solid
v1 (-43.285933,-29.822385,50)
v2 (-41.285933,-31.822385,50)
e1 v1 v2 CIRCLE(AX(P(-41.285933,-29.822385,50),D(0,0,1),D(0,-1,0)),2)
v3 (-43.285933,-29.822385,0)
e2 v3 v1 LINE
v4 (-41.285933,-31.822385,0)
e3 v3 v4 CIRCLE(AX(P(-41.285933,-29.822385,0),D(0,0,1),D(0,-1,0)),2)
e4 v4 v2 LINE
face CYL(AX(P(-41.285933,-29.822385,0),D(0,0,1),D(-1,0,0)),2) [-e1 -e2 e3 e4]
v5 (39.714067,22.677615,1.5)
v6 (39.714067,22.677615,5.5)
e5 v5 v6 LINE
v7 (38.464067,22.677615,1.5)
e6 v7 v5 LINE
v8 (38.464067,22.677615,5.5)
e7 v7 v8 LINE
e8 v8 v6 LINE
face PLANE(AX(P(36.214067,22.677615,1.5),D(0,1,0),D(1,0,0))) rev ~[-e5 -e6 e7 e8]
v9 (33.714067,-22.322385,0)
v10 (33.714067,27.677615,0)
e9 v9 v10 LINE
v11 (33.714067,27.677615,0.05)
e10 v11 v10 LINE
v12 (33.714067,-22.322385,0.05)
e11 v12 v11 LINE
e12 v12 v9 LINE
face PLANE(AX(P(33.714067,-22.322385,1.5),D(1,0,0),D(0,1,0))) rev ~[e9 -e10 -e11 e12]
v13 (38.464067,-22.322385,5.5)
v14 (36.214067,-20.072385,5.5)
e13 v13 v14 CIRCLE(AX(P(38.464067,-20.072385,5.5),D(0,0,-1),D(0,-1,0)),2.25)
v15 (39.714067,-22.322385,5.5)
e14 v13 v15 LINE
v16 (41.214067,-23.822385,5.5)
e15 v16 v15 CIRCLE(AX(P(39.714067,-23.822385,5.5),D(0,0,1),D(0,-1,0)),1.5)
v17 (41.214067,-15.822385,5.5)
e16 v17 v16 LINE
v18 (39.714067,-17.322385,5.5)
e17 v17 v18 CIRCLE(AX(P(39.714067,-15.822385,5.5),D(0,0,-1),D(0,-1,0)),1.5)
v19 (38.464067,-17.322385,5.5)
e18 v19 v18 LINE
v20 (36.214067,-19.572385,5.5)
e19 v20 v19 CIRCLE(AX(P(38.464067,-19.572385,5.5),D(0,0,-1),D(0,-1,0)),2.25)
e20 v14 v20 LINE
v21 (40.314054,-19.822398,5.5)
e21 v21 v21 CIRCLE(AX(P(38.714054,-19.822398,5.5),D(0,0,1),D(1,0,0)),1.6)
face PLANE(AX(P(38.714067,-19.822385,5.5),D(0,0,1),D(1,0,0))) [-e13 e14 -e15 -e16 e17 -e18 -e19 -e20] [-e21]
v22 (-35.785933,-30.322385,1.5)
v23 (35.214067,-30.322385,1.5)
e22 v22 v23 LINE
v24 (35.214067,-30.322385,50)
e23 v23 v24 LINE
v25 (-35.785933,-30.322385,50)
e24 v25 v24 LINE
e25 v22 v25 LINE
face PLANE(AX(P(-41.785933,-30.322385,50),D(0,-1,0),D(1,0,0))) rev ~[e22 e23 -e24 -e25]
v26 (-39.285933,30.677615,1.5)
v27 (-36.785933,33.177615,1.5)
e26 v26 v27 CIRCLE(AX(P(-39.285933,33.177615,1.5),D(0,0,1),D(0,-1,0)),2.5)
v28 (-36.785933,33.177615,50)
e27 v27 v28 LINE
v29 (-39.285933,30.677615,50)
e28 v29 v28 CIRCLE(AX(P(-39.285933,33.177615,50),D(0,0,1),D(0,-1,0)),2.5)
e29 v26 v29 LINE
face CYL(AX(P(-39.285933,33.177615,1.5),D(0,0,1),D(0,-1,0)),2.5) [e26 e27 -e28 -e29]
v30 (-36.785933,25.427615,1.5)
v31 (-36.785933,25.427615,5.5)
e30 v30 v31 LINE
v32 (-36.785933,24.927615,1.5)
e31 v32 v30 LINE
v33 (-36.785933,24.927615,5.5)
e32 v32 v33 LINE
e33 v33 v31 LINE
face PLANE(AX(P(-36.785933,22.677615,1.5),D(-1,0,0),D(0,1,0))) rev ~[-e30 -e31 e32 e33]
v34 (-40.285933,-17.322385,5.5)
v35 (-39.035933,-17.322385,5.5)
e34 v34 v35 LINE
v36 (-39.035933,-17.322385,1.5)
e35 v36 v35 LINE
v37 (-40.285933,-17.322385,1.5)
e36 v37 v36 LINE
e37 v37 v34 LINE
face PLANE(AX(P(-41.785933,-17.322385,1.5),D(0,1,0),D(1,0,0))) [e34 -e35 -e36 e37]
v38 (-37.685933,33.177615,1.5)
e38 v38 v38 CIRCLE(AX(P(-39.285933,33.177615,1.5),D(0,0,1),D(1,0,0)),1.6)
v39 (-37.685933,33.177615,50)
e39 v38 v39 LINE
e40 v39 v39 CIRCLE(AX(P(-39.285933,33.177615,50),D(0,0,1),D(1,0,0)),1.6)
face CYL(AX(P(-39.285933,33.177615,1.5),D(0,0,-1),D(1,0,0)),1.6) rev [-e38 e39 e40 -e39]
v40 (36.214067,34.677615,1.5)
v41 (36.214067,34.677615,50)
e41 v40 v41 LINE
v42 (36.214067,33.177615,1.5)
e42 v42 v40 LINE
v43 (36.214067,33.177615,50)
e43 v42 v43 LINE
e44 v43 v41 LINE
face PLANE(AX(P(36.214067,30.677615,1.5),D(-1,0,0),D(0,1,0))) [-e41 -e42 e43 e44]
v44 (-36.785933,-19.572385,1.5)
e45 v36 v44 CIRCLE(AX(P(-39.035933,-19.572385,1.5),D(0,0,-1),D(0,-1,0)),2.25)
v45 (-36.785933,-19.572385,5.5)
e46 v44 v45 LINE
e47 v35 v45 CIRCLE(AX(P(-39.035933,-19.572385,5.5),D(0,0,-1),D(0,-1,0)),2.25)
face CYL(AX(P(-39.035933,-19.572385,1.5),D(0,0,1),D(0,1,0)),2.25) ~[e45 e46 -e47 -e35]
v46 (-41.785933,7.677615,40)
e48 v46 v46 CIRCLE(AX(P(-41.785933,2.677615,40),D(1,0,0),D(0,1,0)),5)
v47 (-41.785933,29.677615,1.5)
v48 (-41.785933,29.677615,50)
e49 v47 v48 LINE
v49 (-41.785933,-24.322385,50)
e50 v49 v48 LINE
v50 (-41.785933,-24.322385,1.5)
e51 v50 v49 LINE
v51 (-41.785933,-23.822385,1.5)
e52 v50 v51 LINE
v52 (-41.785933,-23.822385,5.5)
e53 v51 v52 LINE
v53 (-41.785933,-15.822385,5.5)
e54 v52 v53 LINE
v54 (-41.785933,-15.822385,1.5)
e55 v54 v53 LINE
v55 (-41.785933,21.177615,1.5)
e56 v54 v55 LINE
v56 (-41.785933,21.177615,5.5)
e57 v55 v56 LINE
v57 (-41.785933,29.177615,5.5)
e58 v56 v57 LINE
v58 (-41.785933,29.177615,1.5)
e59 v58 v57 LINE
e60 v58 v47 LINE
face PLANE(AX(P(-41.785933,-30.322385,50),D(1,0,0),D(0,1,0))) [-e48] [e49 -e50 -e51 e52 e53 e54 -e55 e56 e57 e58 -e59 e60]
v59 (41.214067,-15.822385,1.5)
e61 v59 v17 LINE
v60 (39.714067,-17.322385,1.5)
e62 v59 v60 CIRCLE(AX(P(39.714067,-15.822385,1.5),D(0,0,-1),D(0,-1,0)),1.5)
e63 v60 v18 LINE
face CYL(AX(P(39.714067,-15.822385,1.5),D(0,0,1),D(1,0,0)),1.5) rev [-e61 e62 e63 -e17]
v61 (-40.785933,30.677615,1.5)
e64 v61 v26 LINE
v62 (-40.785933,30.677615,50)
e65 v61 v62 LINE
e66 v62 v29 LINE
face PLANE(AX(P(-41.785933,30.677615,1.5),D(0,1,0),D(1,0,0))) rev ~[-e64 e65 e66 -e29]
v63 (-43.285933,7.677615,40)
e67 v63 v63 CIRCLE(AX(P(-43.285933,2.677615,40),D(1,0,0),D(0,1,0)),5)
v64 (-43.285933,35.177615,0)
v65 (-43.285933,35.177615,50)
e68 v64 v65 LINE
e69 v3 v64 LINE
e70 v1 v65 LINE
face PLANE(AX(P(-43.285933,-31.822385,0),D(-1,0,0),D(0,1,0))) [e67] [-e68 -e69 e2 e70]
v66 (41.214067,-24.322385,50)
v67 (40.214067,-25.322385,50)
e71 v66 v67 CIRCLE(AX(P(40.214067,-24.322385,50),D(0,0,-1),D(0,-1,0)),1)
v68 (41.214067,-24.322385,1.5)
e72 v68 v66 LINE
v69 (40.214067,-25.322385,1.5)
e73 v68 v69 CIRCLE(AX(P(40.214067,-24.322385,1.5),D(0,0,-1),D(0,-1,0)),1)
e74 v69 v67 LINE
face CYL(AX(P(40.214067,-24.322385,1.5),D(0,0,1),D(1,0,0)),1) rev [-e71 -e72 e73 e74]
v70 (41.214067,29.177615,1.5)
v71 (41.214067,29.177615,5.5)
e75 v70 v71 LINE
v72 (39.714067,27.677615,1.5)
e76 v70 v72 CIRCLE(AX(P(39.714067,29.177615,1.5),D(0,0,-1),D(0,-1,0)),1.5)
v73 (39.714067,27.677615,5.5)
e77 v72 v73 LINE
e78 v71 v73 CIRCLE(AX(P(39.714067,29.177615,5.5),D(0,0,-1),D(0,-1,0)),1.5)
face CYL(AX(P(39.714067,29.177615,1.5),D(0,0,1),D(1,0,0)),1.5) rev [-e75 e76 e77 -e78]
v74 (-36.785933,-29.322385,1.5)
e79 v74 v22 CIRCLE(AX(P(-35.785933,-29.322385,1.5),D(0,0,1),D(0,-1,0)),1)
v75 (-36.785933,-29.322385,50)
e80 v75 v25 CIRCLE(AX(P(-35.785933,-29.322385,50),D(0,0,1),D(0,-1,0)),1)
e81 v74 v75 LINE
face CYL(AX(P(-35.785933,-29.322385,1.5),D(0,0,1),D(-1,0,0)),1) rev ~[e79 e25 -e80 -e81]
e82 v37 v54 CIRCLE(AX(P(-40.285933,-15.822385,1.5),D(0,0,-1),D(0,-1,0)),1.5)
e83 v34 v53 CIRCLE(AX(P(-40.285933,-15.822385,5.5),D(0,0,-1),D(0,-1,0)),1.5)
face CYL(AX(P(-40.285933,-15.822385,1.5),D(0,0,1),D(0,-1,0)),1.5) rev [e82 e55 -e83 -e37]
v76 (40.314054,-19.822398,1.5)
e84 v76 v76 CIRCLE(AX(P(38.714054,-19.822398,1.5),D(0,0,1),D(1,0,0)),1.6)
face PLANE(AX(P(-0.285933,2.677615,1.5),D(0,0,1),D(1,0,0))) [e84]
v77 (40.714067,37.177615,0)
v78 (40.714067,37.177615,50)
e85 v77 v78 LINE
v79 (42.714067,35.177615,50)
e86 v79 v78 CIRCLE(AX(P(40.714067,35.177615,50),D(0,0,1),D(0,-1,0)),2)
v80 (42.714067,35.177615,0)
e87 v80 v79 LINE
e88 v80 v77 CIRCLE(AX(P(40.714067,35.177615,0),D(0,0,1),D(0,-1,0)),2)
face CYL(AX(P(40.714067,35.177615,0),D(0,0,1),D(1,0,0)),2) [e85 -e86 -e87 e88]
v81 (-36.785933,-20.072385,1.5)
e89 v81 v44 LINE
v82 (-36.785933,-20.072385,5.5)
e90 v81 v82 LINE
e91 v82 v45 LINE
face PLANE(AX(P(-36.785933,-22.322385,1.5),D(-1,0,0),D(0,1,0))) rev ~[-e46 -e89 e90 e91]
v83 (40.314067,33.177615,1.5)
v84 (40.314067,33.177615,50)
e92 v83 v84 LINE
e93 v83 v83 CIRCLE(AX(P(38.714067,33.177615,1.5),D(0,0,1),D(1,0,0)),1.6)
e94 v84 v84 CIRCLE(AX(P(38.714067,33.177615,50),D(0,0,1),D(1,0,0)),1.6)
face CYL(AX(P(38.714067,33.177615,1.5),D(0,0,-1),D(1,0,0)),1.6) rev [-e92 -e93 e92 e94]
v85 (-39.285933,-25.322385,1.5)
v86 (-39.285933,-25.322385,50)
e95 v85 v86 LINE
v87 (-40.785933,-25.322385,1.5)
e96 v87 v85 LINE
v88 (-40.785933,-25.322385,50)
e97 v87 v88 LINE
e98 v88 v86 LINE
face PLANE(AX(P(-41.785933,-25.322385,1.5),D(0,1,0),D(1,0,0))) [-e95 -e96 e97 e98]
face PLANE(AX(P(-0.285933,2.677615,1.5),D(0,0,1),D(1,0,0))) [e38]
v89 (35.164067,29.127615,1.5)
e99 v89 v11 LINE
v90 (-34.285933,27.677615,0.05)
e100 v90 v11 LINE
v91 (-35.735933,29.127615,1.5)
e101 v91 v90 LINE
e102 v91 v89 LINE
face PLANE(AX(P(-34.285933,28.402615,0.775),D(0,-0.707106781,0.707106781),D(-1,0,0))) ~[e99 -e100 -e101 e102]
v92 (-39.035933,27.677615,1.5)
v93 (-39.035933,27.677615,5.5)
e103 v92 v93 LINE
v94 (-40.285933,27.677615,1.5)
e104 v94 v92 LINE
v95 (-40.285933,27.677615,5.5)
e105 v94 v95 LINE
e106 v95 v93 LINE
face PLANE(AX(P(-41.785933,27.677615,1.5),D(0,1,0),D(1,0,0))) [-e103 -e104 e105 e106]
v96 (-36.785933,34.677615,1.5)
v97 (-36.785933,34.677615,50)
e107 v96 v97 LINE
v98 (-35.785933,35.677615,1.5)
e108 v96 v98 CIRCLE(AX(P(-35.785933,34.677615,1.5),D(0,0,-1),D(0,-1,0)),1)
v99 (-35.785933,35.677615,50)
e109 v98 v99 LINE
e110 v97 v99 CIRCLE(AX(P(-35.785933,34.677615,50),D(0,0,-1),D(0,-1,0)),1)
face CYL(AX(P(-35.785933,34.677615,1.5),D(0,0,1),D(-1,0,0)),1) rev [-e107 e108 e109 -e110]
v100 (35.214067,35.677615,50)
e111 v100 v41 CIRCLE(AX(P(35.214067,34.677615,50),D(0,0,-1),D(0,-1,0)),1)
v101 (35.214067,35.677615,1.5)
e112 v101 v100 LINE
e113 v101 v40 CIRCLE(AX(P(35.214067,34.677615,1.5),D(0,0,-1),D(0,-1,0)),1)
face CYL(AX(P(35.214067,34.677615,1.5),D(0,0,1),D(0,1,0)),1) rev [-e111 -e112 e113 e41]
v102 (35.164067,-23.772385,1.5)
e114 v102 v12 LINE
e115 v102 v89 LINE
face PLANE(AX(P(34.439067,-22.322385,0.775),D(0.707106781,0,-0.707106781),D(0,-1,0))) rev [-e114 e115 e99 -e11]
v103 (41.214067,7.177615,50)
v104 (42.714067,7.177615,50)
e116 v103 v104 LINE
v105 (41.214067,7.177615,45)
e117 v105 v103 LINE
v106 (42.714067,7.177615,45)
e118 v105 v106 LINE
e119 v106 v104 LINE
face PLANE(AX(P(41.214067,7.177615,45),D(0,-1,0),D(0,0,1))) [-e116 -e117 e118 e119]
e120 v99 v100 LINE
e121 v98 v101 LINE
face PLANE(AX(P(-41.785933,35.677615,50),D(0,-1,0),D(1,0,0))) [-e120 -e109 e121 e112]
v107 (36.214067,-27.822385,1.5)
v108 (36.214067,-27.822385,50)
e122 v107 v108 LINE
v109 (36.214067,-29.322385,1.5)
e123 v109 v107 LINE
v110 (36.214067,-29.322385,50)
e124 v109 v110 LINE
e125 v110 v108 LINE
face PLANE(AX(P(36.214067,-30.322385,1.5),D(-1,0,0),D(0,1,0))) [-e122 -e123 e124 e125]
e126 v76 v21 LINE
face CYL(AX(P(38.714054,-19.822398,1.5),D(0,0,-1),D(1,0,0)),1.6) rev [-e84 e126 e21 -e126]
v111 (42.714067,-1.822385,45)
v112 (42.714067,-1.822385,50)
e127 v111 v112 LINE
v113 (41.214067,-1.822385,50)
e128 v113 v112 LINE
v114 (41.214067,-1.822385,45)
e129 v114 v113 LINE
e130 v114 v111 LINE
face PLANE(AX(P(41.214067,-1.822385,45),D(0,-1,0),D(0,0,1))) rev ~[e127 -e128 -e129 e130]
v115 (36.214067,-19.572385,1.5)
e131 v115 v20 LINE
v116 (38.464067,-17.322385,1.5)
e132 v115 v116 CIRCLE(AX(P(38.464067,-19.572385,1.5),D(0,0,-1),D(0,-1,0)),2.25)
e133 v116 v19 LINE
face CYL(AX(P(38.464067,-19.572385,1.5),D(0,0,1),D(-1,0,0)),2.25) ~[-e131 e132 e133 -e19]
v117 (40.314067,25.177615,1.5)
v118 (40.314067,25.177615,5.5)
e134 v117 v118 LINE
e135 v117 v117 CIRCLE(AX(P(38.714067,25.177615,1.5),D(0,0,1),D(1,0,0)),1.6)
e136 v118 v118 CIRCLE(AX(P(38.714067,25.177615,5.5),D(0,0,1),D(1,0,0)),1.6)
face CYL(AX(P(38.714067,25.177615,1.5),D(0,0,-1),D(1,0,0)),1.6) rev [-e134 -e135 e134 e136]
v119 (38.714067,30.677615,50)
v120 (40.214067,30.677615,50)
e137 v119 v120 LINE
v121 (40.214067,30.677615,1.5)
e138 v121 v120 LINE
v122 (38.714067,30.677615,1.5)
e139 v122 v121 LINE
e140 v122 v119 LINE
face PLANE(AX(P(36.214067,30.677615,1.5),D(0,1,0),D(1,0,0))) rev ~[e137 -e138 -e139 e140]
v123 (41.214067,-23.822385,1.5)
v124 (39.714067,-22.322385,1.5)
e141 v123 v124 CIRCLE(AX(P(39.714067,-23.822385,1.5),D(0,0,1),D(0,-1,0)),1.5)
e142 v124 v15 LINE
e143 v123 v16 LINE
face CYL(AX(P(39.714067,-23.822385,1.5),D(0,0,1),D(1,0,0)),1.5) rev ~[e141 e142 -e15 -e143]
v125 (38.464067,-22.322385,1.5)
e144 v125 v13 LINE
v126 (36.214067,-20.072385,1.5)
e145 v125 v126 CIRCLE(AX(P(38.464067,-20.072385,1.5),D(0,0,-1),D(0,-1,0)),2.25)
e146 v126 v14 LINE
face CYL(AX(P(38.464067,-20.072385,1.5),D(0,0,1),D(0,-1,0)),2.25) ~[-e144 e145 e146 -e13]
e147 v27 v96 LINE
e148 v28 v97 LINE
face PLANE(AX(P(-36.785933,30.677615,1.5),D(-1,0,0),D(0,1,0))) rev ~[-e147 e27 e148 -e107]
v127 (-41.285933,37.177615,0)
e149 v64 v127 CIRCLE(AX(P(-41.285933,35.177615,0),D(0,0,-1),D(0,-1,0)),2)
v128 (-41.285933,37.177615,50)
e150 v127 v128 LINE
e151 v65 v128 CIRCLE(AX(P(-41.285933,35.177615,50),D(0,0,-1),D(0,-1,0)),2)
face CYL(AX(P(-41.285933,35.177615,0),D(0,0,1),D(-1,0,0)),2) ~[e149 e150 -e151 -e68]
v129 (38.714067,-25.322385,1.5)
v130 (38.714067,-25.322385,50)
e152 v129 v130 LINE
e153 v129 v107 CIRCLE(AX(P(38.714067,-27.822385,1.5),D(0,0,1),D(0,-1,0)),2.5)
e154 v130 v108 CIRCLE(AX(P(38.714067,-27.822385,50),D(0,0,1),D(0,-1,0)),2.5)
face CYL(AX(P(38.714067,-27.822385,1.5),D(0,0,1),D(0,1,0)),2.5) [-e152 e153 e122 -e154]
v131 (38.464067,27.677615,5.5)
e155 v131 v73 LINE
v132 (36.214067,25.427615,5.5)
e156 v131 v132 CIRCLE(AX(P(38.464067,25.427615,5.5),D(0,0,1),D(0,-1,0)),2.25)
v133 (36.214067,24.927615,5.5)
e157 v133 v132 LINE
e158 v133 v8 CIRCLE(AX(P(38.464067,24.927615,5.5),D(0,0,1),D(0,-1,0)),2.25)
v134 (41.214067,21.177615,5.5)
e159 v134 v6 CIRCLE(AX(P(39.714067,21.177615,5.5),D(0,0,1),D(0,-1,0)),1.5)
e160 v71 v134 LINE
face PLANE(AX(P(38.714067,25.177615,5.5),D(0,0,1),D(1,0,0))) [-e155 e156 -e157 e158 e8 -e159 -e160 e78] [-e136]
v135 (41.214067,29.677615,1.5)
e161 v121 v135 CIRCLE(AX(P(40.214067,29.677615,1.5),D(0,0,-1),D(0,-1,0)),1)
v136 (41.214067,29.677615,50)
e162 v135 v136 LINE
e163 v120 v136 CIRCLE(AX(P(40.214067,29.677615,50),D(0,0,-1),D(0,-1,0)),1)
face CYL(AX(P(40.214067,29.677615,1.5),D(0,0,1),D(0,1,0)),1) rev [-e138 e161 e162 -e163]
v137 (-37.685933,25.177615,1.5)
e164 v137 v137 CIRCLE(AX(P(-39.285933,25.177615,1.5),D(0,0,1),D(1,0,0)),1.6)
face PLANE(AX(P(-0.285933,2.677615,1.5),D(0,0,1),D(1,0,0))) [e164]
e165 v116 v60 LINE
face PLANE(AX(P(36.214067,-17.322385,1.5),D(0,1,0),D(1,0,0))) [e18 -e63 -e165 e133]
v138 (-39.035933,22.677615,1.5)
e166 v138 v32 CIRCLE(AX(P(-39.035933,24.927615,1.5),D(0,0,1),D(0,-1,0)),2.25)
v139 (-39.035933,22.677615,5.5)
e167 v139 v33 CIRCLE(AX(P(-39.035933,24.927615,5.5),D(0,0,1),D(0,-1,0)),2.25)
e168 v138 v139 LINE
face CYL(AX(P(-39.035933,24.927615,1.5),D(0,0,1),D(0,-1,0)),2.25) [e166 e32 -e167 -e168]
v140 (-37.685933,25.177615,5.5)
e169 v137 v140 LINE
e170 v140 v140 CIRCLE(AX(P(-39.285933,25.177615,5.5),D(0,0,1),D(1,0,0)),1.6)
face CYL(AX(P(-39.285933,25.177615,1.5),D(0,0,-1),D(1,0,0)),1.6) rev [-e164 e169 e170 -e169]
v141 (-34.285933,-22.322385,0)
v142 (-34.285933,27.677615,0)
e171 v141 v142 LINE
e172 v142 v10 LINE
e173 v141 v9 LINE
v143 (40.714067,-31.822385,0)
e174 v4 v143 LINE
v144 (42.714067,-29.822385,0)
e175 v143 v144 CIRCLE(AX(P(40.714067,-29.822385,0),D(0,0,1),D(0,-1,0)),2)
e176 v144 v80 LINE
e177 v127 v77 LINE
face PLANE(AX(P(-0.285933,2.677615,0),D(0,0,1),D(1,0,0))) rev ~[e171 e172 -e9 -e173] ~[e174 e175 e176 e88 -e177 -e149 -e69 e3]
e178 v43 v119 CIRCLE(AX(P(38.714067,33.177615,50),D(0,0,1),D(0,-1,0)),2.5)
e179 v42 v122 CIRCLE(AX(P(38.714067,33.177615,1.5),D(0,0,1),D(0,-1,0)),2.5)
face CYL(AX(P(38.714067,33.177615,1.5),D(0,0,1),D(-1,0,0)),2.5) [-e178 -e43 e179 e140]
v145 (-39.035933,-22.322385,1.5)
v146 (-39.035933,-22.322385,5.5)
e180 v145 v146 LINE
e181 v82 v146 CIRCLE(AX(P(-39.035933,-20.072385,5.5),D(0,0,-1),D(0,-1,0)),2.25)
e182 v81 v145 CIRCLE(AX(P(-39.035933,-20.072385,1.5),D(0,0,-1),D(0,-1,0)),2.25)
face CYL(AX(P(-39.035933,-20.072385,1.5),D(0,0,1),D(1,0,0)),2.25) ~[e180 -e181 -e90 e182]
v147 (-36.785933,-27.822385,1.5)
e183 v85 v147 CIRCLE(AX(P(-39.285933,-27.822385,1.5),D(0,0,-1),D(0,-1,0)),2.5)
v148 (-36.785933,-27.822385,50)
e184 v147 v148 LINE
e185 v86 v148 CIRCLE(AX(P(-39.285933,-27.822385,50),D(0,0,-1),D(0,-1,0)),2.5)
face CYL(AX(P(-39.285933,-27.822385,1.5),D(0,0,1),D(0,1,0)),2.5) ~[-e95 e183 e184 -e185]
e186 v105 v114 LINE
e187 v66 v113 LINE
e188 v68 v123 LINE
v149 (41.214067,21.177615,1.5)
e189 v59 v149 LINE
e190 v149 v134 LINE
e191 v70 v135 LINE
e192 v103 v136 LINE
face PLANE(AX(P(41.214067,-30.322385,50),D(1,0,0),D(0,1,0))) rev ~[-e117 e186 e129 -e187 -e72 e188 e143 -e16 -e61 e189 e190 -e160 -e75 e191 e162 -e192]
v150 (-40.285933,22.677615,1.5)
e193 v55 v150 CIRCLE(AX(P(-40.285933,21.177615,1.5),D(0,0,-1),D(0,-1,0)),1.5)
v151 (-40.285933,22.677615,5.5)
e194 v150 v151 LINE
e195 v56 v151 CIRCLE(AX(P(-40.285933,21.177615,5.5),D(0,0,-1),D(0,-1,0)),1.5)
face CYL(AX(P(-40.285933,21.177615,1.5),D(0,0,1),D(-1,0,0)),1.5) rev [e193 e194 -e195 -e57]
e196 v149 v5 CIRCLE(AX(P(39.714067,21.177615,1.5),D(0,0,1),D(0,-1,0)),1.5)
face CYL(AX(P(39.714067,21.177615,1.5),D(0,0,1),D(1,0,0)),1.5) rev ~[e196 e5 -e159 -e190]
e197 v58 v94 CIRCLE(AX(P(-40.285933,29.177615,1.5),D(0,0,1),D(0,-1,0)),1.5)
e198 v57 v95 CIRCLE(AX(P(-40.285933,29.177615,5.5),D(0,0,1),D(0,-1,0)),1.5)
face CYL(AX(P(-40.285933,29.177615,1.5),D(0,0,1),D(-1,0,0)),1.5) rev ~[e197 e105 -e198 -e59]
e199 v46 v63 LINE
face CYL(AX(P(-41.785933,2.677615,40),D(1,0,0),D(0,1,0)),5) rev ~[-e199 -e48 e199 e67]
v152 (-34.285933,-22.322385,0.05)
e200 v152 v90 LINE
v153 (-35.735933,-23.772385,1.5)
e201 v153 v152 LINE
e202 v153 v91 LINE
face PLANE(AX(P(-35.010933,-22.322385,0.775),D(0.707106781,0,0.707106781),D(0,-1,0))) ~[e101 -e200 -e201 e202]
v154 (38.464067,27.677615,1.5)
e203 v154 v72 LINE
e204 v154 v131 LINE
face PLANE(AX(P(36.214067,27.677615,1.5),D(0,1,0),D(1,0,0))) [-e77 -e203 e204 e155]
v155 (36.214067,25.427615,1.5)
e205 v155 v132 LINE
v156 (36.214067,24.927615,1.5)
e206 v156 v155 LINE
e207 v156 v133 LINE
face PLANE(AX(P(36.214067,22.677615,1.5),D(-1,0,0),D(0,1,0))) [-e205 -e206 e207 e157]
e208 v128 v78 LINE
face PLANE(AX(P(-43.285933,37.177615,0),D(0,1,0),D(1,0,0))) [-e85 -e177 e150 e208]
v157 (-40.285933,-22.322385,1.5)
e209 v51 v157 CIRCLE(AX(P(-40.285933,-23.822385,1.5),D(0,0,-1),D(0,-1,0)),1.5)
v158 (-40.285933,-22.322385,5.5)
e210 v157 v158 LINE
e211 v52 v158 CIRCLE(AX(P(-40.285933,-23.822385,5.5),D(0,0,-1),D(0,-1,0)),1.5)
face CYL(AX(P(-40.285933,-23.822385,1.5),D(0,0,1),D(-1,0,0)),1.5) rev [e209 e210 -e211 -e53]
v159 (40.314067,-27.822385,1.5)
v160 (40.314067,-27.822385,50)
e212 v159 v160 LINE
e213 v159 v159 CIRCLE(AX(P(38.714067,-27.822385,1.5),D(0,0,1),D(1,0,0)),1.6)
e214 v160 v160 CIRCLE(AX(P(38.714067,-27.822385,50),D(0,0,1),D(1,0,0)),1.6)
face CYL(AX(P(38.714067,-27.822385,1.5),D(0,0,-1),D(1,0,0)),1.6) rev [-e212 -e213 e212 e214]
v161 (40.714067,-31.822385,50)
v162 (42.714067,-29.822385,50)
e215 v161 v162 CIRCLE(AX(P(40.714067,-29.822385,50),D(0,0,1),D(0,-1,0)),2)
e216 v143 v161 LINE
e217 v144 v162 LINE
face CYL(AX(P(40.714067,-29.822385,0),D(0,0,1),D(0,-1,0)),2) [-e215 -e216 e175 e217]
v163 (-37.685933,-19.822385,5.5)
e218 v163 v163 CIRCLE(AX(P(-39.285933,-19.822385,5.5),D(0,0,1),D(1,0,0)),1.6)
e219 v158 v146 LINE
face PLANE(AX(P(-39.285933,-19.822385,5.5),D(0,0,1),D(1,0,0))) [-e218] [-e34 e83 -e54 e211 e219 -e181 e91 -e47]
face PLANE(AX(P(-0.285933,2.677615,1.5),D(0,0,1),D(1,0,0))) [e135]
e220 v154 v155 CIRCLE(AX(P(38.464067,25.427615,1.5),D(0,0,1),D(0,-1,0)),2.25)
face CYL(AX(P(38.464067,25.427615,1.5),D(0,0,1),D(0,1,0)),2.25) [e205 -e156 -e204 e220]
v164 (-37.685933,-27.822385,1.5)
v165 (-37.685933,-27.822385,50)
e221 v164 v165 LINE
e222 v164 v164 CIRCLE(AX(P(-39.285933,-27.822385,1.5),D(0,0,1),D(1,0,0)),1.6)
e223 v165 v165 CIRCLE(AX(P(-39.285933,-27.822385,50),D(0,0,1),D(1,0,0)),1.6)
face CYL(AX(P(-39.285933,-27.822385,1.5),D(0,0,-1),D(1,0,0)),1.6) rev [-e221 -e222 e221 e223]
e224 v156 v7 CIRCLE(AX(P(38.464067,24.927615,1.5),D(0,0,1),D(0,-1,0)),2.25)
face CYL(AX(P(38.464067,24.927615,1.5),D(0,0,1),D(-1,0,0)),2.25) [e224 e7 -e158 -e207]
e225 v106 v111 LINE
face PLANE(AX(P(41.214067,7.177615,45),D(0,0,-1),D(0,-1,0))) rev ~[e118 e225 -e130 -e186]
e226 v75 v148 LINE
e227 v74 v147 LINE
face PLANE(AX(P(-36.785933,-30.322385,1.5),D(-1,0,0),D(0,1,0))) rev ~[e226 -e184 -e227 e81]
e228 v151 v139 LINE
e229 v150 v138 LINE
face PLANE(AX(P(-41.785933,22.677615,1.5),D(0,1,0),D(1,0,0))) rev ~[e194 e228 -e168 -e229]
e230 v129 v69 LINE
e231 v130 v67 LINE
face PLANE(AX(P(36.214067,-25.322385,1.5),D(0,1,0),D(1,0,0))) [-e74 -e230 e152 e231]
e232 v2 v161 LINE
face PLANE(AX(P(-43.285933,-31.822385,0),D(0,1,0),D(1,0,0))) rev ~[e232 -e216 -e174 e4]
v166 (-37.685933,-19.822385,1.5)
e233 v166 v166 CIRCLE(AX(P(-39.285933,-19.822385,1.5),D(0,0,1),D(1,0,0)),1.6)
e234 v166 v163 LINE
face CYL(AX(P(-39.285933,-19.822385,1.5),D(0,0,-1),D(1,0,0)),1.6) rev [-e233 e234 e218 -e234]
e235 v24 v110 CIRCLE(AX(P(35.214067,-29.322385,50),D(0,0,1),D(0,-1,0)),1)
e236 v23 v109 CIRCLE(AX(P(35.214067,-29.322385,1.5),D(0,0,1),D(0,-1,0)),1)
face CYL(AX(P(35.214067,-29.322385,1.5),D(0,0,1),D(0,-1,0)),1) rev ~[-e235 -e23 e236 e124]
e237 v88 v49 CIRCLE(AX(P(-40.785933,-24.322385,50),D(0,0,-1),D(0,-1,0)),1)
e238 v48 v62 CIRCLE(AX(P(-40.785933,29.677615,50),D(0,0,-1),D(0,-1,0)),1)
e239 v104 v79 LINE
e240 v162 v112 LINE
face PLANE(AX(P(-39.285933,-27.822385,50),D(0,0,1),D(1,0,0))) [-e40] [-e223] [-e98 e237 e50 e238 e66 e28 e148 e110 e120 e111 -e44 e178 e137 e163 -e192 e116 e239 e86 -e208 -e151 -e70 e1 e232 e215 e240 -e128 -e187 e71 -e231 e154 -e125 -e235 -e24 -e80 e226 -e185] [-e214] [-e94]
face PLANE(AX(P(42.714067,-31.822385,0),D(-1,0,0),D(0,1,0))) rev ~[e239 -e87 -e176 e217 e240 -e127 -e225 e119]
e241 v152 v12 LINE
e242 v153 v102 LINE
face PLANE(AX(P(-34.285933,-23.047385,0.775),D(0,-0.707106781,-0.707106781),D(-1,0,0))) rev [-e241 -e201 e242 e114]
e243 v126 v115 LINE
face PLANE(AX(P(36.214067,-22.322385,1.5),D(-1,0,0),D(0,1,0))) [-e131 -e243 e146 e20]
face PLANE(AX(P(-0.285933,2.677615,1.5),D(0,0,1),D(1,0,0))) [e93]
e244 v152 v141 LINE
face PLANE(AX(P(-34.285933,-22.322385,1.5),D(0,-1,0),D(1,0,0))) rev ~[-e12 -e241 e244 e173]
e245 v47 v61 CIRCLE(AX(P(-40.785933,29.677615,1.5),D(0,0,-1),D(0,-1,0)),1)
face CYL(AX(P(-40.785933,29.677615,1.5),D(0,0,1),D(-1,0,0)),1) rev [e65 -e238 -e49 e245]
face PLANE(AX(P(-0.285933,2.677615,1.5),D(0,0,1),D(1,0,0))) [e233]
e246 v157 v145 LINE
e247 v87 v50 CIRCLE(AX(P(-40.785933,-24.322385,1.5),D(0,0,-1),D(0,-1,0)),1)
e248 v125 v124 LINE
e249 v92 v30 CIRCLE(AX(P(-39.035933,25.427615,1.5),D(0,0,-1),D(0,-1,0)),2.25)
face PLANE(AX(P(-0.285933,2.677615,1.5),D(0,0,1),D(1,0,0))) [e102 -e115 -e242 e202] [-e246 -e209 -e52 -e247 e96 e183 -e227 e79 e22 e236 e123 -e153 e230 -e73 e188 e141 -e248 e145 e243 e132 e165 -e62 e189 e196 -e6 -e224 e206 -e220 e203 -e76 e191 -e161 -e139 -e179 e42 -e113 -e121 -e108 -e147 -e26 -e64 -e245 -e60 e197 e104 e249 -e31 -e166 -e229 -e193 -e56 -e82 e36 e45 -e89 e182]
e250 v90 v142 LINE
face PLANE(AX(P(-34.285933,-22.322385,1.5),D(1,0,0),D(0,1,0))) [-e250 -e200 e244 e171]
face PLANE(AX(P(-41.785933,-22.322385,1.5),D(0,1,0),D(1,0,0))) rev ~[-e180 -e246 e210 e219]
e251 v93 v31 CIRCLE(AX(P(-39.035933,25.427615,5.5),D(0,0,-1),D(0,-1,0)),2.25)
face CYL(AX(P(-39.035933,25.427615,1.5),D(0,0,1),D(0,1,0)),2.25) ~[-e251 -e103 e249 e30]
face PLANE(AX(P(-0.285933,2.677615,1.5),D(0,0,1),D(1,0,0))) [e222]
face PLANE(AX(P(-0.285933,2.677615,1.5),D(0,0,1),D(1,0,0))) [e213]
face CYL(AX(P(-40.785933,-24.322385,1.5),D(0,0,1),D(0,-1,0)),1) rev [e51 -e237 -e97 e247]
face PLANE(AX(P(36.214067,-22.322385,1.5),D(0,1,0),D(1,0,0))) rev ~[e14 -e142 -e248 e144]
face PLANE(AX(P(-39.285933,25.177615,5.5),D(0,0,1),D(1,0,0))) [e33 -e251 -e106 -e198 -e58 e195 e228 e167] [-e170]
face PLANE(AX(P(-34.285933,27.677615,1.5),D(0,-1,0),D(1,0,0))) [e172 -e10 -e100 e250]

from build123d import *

# Parameters (mm, degrees)
SKETCH_W        = 86
SKETCH_H        = 69
PAD_DEPTH       = 50
SKETCH001_W     = 83
SKETCH001_H     = 66
POCKET_DEPTH    = 48.5
SKETCH002_W     = 68
SKETCH002_H     = 50
POCKET001_DEPTH = 5
SKETCH003_W     = 5
SKETCH003_H     = 5
SKETCH003_R     = 1.6
PAD001_DEPTH    = 4
FILLET_R        = 2.25
FILLET001_R     = 2.25
FILLET002_R     = 1.5
SKETCH004_W     = 5
SKETCH004_H     = 5
SKETCH004_R     = 1.6
PAD002_DEPTH    = 48.5
FILLET003_R     = 2.5
FILLET004_R     = 1
FILLET005_R     = 2
CHAMFER_SIZE    = 1.45
SKETCH006_R     = 5
POCKET002_DEPTH = 5
SKETCH007_W     = 9
SKETCH007_H     = 5
POCKET003_DEPTH = 5


with BuildPart() as part:
    # Sketch → Pad (new body)
    with BuildSketch(Plane.XY):
        with Locations((-0.285933, 2.677615)):
            Rectangle(SKETCH_W, SKETCH_H)
    extrude(amount=PAD_DEPTH)

    # Sketch001 (on Face6 of Pad) → Pocket (cut)
    with BuildSketch(Plane.XY.offset(50)):
        with Locations((-0.285933, 2.677615)):
            Rectangle(SKETCH001_W, SKETCH001_H)
    extrude(amount=-POCKET_DEPTH, mode=Mode.SUBTRACT)

    # Sketch002 (on Face11 of Pocket) → Pocket001 (cut)
    with BuildSketch(Plane.XY.offset(1.5)):
        with Locations((-0.285933, 2.677615)):
            Rectangle(SKETCH002_W, SKETCH002_H)
    extrude(amount=-POCKET001_DEPTH, mode=Mode.SUBTRACT)

    # Sketch003 (on Face15 of Pocket001) → Pad001 (join)
    with BuildSketch(Plane.XY.offset(1.5)):
        with Locations((-39.285933, -19.822385)):
            Rectangle(SKETCH003_W, SKETCH003_H)
        with Locations((-39.285933, -19.822385)):
            Circle(SKETCH003_R, mode=Mode.SUBTRACT)
        with Locations((38.714067, 25.177615)):
            Rectangle(SKETCH003_W, SKETCH003_H)
        with Locations((38.714067, 25.177615)):
            Circle(SKETCH003_R, mode=Mode.SUBTRACT)
        with Locations((38.714067, -19.822385)):
            Rectangle(SKETCH003_W, SKETCH003_H)
        with Locations((38.714054, -19.822398)):
            Circle(SKETCH003_R, mode=Mode.SUBTRACT)
        with Locations((-39.285933, 25.177615)):
            Rectangle(SKETCH003_W, SKETCH003_H)
        with Locations((-39.285933, 25.177615)):
            Circle(SKETCH003_R, mode=Mode.SUBTRACT)
    extrude(amount=PAD001_DEPTH)

    # Fillet
    fillet_edges = [part.edges().sort_by_distance(p)[0] for p in [
        (-36.785933, 27.677615, 3.5),
        (-36.785933, 22.677615, 3.5),
    ]]
    fillet(fillet_edges, radius=FILLET_R)

    # Fillet001
    fillet001_edges = [part.edges().sort_by_distance(p)[0] for p in [
        (-36.785933, -17.322385, 3.5),
        (-36.785933, -22.322385, 3.5),
        (36.214067, -17.322385, 3.5),
        (36.214067, -22.322385, 3.5),
        (36.214067, 27.677615, 3.5),
        (36.214067, 22.677615, 3.5),
    ]]
    fillet(fillet001_edges, radius=FILLET001_R)

    # Fillet002
    fillet002_edges = [part.edges().sort_by_distance(p)[0] for p in [
        (41.214067, 22.677615, 3.5),
        (41.214067, 27.677615, 3.5),
        (41.214067, -17.322385, 3.5),
        (41.214067, -22.322385, 3.5),
        (-41.785933, 22.677615, 3.5),
        (-41.785933, 27.677615, 3.5),
        (-41.785933, -17.322385, 3.5),
        (-41.785933, -22.322385, 3.5),
    ]]
    fillet(fillet002_edges, radius=FILLET002_R)

    # Sketch004 (on Face1 of Fillet002) → Pad002 (join)
    with BuildSketch(Plane.XY.offset(1.5)):
        with Locations((-39.285933, -27.822385)):
            Rectangle(SKETCH004_W, SKETCH004_H)
        with Locations((-39.285933, -27.822385)):
            Circle(SKETCH004_R, mode=Mode.SUBTRACT)
        with Locations((-39.285933, 33.177615)):
            Rectangle(SKETCH004_W, SKETCH004_H)
        with Locations((-39.285933, 33.177615)):
            Circle(SKETCH004_R, mode=Mode.SUBTRACT)
        with Locations((38.714067, 33.177615)):
            Rectangle(SKETCH004_W, SKETCH004_H)
        with Locations((38.714067, 33.177615)):
            Circle(SKETCH004_R, mode=Mode.SUBTRACT)
        with Locations((38.714067, -27.822385)):
            Rectangle(SKETCH004_W, SKETCH004_H)
        with Locations((38.714067, -27.822385)):
            Circle(SKETCH004_R, mode=Mode.SUBTRACT)
    extrude(amount=PAD002_DEPTH)

    # Fillet003
    fillet003_edges = [part.edges().sort_by_distance(p)[0] for p in [
        (-36.785933, 30.677615, 25.75),
        (36.214067, 30.677615, 25.75),
        (-36.785933, -25.322385, 25.75),
        (36.214067, -25.322385, 25.75),
    ]]
    fillet(fillet003_edges, radius=FILLET003_R)

    # Fillet004
    fillet004_edges = [part.edges().sort_by_distance(p)[0] for p in [
        (41.214067, -25.322385, 25.75),
        (36.214067, -30.322385, 25.75),
        (41.214067, 30.677615, 25.75),
        (36.214067, 35.677615, 25.75),
        (-41.785933, 30.677615, 25.75),
        (-36.785933, 35.677615, 25.75),
        (-36.785933, -30.322385, 25.75),
        (-41.785933, -25.322385, 25.75),
    ]]
    fillet(fillet004_edges, radius=FILLET004_R)

    # Fillet005
    fillet005_edges = [part.edges().sort_by_distance(p)[0] for p in [
        (-43.285933, 37.177615, 25),
        (42.714067, 37.177615, 25),
        (42.714067, -31.822385, 25),
        (-43.285933, -31.822385, 25),
    ]]
    fillet(fillet005_edges, radius=FILLET005_R)

    # Chamfer
    chamfer_edges = [part.edges().sort_by_distance(p)[0] for p in [
        (-34.285933, 2.677615, 1.5),
        (-0.285933, 27.677615, 1.5),
        (-0.285933, -22.322385, 1.5),
        (33.714067, 2.677615, 1.5),
    ]]
    chamfer(chamfer_edges, length=CHAMFER_SIZE)

    # Sketch006 (on Face13 of Fillet005) → Pocket002 (cut)
    with BuildSketch(Plane.YZ.offset(-41.785933)):
        with Locations((2.677615, 40)):
            Circle(SKETCH006_R)
    extrude(amount=-POCKET002_DEPTH, mode=Mode.SUBTRACT)

    # Sketch007 (on Face25 of Pocket002) → Pocket003 (cut)
    with BuildSketch(Plane(origin=(41.214067, 0, 0), x_dir=(0, -1, 0), z_dir=(-1, 0, 0))):
        with Locations((-2.677615, 47.5)):
            Rectangle(SKETCH007_W, SKETCH007_H)
    extrude(amount=-POCKET003_DEPTH, mode=Mode.SUBTRACT)


solid = part.part
